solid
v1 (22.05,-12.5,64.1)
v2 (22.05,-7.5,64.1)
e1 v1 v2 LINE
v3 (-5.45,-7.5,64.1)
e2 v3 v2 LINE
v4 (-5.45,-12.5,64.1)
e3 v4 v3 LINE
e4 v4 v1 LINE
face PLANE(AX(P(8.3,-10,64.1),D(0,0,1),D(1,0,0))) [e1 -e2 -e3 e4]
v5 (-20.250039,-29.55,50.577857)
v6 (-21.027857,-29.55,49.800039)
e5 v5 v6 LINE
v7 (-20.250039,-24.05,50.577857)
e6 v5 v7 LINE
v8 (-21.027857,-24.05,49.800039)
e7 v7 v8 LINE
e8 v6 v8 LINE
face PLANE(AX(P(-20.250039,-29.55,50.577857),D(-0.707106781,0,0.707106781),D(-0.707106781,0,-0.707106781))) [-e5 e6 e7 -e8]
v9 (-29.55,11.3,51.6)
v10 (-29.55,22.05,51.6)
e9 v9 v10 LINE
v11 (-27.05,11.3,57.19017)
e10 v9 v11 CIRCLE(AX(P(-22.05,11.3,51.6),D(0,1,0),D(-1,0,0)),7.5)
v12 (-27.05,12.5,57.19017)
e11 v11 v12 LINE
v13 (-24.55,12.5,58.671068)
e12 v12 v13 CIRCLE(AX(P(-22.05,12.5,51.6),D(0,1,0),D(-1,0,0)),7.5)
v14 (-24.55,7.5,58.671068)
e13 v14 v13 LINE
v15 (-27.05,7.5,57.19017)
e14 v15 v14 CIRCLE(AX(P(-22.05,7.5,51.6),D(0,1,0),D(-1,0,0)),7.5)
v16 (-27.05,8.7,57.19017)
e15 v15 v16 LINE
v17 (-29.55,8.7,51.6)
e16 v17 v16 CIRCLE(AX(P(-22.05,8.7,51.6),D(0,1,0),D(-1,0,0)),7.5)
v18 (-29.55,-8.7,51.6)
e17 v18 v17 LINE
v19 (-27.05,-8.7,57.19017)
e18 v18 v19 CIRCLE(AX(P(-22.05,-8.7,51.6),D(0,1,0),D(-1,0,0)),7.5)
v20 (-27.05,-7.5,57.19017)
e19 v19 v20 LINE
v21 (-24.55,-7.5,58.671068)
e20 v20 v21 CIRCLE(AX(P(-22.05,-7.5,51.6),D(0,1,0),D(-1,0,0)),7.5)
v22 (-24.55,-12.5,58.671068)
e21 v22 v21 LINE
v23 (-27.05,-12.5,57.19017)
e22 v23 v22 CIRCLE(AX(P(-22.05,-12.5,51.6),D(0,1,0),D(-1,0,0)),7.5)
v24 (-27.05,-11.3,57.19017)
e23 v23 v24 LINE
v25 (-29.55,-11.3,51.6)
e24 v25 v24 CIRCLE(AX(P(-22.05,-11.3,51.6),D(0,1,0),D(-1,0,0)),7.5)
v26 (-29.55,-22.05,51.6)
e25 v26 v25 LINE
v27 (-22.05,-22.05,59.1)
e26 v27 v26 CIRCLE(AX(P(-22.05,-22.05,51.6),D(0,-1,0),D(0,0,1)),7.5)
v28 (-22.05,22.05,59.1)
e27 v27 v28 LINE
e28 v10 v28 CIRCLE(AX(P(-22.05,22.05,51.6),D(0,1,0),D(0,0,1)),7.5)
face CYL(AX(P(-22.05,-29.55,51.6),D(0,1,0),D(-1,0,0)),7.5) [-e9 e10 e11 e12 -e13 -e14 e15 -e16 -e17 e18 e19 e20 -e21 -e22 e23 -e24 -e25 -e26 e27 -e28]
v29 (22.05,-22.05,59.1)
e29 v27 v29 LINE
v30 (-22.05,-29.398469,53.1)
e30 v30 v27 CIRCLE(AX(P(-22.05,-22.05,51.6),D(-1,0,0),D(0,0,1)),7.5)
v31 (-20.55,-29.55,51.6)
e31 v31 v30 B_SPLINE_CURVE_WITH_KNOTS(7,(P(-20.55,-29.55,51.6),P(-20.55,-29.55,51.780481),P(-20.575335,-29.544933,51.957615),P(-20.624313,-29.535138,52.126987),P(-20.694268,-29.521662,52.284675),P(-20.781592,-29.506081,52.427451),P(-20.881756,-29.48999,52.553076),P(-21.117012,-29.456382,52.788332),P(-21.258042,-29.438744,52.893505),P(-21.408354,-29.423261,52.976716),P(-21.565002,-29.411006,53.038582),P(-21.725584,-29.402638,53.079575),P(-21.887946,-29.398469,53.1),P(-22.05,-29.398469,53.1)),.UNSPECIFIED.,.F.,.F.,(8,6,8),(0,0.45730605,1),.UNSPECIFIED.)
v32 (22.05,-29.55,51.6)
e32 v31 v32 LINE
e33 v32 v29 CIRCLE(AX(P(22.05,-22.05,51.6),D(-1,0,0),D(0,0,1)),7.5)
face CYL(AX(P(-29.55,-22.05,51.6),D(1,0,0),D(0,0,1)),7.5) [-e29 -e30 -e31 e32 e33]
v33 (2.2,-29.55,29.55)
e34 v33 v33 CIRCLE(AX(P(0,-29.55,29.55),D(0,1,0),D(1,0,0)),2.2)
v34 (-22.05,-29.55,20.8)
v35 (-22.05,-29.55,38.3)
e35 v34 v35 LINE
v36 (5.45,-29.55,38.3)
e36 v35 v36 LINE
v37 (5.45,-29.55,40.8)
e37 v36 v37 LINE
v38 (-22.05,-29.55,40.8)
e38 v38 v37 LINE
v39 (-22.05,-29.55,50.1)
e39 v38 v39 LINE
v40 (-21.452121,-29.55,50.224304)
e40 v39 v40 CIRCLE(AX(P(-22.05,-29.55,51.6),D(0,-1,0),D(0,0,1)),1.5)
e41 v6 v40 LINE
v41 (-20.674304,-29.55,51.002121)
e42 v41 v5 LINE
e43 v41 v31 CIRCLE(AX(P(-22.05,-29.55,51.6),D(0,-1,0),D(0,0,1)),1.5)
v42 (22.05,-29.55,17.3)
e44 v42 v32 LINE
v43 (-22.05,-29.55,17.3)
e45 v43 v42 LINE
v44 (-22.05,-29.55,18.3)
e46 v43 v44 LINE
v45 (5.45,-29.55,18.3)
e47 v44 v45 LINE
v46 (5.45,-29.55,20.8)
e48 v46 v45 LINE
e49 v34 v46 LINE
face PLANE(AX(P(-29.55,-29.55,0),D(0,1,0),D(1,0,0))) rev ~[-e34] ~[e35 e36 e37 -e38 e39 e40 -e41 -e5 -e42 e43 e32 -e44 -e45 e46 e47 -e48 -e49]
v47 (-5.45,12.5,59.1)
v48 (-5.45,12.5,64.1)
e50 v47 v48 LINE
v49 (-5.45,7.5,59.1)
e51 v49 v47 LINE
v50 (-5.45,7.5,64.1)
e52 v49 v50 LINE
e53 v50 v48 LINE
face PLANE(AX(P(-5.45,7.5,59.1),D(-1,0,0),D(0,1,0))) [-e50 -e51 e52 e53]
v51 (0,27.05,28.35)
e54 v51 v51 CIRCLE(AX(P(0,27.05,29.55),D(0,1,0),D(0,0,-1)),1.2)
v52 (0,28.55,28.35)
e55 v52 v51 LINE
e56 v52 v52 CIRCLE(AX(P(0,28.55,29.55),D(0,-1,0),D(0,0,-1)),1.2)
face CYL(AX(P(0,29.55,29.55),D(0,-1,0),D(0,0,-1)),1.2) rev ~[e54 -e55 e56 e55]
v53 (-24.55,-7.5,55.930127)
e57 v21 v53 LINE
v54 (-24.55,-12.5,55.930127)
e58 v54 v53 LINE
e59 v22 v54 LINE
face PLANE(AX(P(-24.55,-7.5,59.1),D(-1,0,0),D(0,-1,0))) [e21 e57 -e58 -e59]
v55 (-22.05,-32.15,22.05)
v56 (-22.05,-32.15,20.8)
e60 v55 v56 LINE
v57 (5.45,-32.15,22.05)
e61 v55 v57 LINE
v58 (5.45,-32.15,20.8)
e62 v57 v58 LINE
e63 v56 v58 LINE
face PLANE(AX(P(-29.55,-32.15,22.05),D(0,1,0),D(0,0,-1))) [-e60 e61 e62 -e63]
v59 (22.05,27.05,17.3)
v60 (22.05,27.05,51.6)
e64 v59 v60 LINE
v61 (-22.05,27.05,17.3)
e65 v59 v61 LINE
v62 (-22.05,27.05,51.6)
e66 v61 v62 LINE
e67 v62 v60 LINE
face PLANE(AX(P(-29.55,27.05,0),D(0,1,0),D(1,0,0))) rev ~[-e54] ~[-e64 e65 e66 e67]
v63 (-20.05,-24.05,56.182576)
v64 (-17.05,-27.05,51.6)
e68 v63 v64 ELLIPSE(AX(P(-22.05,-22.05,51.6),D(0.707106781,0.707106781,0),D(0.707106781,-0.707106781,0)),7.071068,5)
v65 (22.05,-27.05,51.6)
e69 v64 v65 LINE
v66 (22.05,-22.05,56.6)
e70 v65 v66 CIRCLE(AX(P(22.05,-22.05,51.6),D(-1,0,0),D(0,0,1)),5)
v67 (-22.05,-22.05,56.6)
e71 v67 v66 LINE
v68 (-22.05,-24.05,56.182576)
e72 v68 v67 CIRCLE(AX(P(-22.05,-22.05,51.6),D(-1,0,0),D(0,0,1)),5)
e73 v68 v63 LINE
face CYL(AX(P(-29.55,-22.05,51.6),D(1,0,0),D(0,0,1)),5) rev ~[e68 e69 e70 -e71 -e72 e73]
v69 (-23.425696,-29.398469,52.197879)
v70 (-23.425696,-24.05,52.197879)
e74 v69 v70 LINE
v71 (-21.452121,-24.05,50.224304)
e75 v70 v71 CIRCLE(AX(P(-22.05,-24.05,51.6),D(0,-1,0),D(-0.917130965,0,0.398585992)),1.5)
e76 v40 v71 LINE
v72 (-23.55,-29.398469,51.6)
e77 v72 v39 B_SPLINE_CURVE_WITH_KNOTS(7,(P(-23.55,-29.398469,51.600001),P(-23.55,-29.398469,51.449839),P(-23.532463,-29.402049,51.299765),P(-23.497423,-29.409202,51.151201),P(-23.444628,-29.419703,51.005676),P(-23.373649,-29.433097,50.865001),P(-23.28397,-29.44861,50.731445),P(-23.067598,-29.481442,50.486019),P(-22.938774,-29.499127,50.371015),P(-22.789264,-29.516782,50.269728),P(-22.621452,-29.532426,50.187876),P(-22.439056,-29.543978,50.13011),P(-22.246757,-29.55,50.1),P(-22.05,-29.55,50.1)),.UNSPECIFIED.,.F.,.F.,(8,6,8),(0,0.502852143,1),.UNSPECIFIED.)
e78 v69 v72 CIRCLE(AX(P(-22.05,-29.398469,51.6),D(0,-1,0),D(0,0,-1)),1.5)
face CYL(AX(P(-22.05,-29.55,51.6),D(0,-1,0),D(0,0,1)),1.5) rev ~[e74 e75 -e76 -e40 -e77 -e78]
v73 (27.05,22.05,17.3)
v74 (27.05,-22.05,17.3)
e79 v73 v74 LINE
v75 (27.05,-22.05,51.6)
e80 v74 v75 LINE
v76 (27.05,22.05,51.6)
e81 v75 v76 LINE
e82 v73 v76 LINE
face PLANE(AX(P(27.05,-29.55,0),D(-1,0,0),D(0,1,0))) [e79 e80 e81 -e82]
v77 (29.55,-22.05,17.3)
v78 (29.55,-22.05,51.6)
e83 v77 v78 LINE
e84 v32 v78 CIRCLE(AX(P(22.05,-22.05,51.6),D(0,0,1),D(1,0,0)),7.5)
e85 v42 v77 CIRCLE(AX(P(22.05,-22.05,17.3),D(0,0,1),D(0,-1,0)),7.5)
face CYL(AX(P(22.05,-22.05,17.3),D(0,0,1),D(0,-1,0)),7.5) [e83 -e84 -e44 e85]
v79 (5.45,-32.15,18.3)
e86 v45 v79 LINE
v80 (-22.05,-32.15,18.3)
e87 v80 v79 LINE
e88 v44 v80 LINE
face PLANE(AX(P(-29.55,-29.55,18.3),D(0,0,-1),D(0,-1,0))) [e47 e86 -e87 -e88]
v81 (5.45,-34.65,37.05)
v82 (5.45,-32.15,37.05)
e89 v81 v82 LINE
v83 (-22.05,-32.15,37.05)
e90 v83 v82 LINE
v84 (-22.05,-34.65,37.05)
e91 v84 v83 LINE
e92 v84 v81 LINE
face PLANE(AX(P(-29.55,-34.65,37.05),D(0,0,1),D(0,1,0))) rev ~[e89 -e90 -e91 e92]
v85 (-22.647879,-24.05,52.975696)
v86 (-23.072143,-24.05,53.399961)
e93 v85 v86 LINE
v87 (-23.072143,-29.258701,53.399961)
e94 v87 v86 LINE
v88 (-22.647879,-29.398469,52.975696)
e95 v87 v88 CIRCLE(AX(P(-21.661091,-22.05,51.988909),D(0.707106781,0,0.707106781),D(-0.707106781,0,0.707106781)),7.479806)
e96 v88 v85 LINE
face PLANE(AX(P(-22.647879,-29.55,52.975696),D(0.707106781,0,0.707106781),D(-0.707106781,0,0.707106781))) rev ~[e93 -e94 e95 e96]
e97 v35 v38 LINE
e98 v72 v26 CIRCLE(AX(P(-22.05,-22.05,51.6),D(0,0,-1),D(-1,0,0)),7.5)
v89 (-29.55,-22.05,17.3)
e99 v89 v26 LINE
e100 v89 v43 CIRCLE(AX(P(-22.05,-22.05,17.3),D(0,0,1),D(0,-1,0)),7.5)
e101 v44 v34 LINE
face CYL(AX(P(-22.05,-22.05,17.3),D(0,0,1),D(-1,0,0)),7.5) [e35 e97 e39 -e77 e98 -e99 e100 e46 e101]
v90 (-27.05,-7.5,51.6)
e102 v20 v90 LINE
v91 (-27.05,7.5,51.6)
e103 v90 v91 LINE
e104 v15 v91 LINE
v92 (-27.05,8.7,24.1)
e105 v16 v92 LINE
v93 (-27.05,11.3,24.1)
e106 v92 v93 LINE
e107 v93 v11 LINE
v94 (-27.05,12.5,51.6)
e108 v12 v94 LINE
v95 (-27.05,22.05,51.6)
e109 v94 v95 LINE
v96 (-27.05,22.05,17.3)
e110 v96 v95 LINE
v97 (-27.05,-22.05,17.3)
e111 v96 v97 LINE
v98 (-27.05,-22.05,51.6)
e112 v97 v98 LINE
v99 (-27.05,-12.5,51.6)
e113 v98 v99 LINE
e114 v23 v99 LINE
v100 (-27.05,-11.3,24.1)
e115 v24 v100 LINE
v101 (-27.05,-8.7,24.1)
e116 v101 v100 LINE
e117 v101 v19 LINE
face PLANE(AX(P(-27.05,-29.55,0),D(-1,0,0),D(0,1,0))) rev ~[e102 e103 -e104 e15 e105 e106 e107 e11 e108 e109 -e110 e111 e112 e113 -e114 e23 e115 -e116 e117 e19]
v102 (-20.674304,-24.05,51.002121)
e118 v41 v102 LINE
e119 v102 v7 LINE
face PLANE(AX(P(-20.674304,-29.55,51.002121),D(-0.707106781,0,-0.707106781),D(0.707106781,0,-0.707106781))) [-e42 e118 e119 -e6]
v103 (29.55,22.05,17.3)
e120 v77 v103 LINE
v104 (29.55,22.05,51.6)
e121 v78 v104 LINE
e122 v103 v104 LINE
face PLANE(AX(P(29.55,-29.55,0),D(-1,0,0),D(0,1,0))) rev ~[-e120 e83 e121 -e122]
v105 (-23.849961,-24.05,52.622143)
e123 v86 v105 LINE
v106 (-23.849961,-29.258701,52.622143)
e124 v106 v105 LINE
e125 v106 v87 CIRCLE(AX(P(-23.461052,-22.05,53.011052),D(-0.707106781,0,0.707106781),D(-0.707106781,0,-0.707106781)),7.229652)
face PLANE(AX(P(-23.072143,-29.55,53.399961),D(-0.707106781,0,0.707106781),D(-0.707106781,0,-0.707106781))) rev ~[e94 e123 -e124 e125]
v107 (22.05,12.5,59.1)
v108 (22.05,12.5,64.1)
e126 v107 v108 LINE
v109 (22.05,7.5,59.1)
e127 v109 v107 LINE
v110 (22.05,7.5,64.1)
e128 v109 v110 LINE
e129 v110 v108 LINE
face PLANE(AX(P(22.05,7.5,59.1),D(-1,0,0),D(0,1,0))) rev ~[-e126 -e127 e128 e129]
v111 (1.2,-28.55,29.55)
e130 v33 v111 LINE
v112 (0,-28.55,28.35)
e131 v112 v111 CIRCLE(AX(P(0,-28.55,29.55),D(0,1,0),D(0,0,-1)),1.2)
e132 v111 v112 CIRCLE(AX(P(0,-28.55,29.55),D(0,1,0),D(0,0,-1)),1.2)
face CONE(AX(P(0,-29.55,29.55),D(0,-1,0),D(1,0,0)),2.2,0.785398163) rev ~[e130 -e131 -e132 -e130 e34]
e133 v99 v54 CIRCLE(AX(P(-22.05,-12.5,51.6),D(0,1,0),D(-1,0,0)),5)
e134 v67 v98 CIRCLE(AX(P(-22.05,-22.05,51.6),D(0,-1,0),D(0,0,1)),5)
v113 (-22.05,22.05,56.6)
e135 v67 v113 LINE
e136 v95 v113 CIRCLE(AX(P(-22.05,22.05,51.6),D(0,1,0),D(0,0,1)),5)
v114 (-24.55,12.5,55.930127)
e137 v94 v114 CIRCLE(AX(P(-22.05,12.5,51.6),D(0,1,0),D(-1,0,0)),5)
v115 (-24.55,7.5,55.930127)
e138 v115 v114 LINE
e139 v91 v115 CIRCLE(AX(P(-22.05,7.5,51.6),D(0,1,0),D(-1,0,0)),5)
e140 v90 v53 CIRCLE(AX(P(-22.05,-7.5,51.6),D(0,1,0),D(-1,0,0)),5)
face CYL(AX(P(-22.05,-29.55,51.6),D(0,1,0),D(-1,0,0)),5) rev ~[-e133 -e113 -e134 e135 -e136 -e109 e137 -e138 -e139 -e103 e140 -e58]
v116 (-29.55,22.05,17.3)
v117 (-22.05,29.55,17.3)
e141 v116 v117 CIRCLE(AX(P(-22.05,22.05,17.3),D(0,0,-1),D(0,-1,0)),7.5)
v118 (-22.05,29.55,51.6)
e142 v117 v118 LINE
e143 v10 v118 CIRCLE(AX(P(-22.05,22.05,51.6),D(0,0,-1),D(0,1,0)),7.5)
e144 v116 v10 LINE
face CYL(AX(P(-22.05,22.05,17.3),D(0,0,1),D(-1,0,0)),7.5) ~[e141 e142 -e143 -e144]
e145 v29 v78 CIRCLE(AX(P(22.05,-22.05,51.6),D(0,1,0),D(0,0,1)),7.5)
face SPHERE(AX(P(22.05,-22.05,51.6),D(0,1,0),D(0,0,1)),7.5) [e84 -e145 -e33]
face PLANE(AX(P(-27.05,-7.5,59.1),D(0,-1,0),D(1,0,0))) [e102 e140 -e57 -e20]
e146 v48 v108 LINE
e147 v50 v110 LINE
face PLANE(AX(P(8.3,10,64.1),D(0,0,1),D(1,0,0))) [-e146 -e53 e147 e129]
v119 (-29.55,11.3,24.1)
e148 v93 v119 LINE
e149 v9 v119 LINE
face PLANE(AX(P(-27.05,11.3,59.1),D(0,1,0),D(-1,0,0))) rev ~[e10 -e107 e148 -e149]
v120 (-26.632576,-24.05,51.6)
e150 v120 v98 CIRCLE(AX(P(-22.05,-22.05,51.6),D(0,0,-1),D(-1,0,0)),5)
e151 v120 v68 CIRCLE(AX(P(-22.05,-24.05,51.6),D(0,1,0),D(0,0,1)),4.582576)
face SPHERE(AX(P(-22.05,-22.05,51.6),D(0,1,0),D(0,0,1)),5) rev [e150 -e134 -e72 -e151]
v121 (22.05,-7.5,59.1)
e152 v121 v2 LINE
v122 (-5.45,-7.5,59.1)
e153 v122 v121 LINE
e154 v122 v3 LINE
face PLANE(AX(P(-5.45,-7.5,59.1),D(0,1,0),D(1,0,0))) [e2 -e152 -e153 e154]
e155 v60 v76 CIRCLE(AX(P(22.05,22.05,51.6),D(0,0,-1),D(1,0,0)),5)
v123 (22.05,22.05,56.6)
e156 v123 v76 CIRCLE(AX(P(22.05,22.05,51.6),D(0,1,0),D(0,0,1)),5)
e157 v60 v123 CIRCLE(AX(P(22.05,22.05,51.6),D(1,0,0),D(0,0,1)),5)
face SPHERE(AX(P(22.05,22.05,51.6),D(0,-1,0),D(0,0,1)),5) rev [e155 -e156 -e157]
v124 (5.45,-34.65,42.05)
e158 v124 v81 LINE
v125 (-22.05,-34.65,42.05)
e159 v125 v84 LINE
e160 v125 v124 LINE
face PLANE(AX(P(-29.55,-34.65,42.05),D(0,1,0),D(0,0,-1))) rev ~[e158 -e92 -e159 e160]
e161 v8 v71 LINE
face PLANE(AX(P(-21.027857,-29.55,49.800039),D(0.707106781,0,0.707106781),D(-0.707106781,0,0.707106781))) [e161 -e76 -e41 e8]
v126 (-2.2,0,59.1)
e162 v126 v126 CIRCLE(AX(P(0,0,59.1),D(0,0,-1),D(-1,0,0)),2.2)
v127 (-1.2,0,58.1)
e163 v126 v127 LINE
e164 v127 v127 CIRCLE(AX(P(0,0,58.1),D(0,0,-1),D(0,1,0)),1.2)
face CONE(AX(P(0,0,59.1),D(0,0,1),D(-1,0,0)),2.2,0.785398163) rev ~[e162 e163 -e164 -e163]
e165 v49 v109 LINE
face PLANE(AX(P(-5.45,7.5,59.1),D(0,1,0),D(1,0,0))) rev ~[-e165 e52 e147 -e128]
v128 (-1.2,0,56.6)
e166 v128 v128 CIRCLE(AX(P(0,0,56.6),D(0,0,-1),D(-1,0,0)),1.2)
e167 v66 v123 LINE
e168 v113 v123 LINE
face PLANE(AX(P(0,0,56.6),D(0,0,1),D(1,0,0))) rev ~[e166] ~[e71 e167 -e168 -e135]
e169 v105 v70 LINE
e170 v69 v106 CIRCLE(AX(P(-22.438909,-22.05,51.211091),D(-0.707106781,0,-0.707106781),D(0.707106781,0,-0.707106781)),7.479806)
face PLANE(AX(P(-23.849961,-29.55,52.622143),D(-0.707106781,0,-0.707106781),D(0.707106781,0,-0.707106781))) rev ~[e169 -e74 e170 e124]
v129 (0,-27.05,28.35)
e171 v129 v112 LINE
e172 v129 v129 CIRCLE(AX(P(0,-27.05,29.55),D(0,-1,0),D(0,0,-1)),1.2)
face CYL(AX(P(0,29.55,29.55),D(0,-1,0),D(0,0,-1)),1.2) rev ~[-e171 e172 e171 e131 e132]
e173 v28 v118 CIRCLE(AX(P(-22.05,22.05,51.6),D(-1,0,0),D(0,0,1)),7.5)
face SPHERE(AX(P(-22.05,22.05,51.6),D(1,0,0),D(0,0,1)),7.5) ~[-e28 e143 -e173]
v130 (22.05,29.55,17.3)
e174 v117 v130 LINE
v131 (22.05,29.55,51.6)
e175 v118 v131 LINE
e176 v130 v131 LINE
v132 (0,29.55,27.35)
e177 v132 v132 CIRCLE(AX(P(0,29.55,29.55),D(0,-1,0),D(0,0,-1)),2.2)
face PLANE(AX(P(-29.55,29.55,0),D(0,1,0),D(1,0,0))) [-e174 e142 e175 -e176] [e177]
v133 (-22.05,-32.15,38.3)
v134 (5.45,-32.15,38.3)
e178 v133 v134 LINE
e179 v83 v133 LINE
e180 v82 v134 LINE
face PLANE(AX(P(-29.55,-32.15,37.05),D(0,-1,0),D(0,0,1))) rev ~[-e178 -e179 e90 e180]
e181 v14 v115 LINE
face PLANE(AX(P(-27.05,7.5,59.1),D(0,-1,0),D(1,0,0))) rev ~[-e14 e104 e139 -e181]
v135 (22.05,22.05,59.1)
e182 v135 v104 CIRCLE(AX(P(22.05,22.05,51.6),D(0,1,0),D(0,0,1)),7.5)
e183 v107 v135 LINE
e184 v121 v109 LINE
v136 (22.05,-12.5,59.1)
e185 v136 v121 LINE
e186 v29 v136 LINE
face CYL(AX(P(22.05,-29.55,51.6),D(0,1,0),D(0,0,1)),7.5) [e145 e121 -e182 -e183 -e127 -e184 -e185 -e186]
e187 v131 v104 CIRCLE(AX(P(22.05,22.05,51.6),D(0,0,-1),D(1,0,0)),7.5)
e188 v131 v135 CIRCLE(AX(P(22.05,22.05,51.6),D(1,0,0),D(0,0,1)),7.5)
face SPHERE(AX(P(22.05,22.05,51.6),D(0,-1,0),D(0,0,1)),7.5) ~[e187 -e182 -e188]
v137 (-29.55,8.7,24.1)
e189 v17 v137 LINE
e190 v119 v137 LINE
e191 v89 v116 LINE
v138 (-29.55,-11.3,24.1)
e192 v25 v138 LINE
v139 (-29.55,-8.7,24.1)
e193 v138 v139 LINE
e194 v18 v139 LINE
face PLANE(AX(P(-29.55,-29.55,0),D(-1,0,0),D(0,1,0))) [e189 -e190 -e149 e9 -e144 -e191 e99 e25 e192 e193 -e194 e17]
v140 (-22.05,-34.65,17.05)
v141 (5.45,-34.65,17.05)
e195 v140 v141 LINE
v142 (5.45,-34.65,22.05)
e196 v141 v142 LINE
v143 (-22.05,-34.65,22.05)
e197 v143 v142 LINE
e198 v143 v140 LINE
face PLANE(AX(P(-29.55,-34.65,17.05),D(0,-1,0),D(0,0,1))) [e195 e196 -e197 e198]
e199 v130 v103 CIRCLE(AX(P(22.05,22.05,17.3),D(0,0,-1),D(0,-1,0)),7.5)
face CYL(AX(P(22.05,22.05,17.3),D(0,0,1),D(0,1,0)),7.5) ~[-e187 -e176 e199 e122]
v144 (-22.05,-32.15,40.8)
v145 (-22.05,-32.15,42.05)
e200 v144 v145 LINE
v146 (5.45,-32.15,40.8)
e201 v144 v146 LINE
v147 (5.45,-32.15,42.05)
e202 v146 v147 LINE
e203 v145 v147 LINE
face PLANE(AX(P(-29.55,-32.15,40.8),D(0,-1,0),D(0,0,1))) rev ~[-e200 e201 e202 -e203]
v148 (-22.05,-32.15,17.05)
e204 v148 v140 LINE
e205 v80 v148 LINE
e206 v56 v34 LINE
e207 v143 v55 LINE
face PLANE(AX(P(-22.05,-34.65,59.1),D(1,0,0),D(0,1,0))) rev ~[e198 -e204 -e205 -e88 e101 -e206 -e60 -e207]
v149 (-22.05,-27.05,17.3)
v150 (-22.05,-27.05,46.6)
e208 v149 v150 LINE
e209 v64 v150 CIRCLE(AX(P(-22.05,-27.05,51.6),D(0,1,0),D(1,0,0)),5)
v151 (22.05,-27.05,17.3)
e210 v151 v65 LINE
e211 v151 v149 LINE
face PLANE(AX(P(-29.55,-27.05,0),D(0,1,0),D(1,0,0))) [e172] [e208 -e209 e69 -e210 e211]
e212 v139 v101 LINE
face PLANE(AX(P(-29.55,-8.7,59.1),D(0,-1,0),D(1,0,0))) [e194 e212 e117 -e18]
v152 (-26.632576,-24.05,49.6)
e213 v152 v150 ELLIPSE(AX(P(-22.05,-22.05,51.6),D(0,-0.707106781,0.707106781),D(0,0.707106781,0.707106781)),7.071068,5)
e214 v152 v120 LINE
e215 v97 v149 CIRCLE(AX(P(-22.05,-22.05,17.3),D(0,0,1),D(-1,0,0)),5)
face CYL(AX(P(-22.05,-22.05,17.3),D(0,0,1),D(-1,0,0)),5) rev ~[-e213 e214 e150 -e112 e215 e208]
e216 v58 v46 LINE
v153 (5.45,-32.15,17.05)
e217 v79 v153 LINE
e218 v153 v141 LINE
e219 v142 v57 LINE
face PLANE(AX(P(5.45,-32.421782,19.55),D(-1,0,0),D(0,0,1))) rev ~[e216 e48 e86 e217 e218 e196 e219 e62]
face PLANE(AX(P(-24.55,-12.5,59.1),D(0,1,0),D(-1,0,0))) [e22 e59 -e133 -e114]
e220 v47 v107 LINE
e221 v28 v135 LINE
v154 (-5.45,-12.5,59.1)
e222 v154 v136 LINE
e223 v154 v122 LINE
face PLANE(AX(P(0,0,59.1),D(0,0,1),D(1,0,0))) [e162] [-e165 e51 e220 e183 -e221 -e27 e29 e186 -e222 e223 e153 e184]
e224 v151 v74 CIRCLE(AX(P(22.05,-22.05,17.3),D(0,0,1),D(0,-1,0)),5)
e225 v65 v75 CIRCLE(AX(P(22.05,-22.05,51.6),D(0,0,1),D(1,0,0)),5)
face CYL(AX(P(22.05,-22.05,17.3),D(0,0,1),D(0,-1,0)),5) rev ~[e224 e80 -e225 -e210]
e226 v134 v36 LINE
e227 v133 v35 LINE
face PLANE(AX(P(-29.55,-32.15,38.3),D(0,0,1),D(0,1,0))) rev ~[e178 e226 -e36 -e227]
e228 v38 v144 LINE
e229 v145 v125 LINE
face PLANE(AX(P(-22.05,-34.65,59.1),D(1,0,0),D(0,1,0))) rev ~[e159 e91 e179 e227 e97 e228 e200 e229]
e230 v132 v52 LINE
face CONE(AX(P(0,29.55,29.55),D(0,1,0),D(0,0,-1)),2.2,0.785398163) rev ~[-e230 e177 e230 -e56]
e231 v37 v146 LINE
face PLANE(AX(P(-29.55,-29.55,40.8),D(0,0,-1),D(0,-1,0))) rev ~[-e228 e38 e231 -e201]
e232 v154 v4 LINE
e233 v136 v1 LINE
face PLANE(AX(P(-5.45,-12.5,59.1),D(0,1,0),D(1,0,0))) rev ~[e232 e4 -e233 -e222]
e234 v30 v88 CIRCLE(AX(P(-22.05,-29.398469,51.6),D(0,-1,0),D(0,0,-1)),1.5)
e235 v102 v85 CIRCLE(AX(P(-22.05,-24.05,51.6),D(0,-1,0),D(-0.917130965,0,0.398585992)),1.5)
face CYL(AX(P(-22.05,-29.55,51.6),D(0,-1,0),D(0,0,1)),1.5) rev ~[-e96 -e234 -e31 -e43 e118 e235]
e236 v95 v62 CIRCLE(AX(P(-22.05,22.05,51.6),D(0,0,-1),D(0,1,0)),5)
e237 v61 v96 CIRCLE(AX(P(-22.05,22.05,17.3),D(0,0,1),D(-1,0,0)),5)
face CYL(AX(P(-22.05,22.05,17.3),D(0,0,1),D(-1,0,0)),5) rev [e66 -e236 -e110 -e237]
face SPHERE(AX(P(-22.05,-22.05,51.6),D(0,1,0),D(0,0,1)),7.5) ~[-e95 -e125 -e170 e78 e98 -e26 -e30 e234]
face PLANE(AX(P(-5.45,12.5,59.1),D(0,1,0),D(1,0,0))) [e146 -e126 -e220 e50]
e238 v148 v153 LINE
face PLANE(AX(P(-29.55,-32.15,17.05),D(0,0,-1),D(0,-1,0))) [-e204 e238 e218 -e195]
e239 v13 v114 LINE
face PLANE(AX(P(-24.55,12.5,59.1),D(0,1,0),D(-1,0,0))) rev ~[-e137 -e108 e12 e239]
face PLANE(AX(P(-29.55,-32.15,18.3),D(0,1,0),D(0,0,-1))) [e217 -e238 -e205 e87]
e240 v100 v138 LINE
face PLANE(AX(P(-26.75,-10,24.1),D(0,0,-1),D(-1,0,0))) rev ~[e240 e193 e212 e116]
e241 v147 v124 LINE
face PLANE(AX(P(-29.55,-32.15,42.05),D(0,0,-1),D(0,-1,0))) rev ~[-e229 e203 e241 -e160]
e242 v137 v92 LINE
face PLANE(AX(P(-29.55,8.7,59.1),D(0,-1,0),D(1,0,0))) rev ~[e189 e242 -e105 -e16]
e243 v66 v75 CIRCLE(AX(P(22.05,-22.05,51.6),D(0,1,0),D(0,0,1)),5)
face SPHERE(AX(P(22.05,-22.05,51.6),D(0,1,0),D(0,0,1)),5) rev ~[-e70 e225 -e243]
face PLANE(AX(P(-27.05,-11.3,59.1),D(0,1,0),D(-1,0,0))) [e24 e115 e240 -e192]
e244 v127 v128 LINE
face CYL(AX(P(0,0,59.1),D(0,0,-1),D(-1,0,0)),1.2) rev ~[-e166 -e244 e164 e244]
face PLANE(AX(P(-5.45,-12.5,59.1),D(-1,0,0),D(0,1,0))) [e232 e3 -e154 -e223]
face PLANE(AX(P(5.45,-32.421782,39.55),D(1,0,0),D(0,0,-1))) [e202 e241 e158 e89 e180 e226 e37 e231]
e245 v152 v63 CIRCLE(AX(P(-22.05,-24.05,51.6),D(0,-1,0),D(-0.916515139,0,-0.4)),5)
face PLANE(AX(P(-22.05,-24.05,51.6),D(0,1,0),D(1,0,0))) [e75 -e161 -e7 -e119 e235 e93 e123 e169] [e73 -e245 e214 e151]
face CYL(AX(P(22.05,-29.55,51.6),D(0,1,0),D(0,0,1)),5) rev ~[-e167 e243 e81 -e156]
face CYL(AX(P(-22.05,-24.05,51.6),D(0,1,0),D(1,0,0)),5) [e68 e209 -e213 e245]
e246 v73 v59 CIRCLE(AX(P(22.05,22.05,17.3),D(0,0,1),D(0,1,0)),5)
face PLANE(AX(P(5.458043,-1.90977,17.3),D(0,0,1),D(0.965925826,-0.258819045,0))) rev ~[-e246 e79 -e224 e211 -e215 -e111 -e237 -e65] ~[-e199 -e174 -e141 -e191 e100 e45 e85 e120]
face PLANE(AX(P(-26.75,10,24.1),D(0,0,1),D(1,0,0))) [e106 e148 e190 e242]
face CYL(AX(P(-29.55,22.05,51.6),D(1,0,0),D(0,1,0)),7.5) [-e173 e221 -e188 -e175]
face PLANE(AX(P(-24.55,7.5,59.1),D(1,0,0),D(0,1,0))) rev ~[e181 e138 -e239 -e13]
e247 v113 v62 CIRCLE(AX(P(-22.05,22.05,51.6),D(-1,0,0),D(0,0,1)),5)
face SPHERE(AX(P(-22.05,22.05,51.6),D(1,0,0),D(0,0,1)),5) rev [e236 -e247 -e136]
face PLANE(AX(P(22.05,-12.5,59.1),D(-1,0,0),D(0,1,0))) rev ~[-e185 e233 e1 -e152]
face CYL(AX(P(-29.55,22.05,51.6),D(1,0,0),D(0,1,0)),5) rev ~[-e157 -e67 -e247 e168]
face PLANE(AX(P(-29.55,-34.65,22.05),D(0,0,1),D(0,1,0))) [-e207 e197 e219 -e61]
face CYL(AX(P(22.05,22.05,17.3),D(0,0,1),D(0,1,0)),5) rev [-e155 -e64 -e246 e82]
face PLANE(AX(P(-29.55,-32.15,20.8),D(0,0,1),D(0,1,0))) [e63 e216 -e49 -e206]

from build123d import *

# Parameters (mm, degrees)
SKETCH1_W                                            = 59.1
SKETCH1_H                                            = 59.1
BOSS_EXTRUDE1_DEPTH                                  = 59.1
CUT_EXTRUDE1_START                                   = -2.25
SKETCH2_W                                            = 116.357411776
SKETCH2_H                                            = 94.431830133
CUT_EXTRUDE1_DEPTH                                   = 71.232302632
FILLET1_R                                            = 7.5
SHELL1_T                                             = -2.5
CUT_EXTRUDE7_DEPTH                                   = 35
BOSS_EXTRUDE2_START                                  = 3
SKETCH18_R                                           = 5
BOSS_EXTRUDE2_DEPTH                                  = 3
SKETCH17_R                                           = 1.5
CUT_EXTRUDE10_DEPTH                                  = 10
CUT_EXTRUDE11_REACH                                  = 90.65
CSK_SLOT_FOR_M2_COUNTERSUNK_FLAT_HEAD_SC_D           = 2.4
CSK_SLOT_FOR_M2_COUNTERSUNK_FLAT_HEAD_SC_CSINK_D     = 4.4
CSK_SLOT_FOR_M2_COUNTERSUNK_FLAT_HEAD_SC_CSINK_ANGLE = 90
CSK_SLOT_FOR_M2_COUNTERSUNK_FLAT_HEA_2_D             = 2.4
CSK_SLOT_FOR_M2_COUNTERSUNK_FLAT_HEA_2_CSINK_D       = 4.4
CSK_SLOT_FOR_M2_COUNTERSUNK_FLAT_HEA_2_CSINK_ANGLE   = 90
CSK_SLOT_FOR_M2_COUNTERSUNK_FLAT_HEA_3_D             = 2.4
CSK_SLOT_FOR_M2_COUNTERSUNK_FLAT_HEA_3_CSINK_D       = 4.4
CSK_SLOT_FOR_M2_COUNTERSUNK_FLAT_HEA_3_CSINK_ANGLE   = 90
BOSS_EXTRUDE3_DEPTH                                  = 35
SKETCH28_W                                           = 7.5
SKETCH28_H                                           = 5.1
CUT_EXTRUDE12_DEPTH                                  = 62.984090748
SKETCH29_W                                           = 27.5
SKETCH29_H                                           = 5
BOSS_EXTRUDE4_DEPTH                                  = 5


with BuildPart() as part:
    # Sketch1 → Boss-Extrude1 (new body)
    with BuildSketch(Plane.XY):
        Rectangle(SKETCH1_W, SKETCH1_H)
    extrude(amount=BOSS_EXTRUDE1_DEPTH)

    # Sketch2 → Cut-Extrude1 (cut, through all)
    with BuildSketch(Plane(origin=(-13.400446417, -13.400446417, 19.55), x_dir=(0.9659258262890684, -0.2588190451025203, 0), z_dir=(0, 0, 1)).offset(CUT_EXTRUDE1_START)):
        with Locations((15.241895832, 15.980077556)):
            Rectangle(SKETCH2_W, SKETCH2_H)
    extrude(amount=-CUT_EXTRUDE1_DEPTH, mode=Mode.SUBTRACT)

    # Fillet1
    fillet1_edges = [part.edges().sort_by_distance(p)[0] for p in [
        (29.55, 0, 59.1),
        (0, 29.55, 59.1),
        (-29.55, 0, 59.1),
        (0, -29.55, 59.1),
        (-29.55, 29.55, 38.2),
        (29.55, 29.55, 38.2),
        (29.55, -29.55, 38.2),
        (-29.55, -29.55, 38.2),
    ]]
    fillet(fillet1_edges, radius=FILLET1_R)

    # Shell1
    shell1_openings = [part.faces().sort_by_distance(p)[0] for p in [
        (0, 0, 17.3),
    ]]
    offset(amount=SHELL1_T, openings=shell1_openings, kind=Kind.INTERSECTION)

    # Sketch14 → Cut-Extrude7 (cut)
    with BuildSketch(Plane.XY.offset(59.1)):
        Polygon((-29.55, -8.7), (-27.05, -8.7), (-27.05, -7.5), (-24.55, -7.5), (-24.55, -12.5), (-27.05, -12.5), (-27.05, -11.3), (-29.55, -11.3), align=None)
        Polygon((-29.55, 11.3), (-29.55, 8.7), (-27.05, 8.7), (-27.05, 7.5), (-24.55, 7.5), (-24.55, 12.5), (-27.05, 12.5), (-27.05, 11.3), align=None)
    extrude(amount=-CUT_EXTRUDE7_DEPTH, mode=Mode.SUBTRACT)

    # Sketch18 → Boss-Extrude2 (add)
    with BuildSketch(Plane(origin=(0, -27.05, 0), x_dir=(1, 0, 0), z_dir=(0, 1, 0)).offset(BOSS_EXTRUDE2_START)):
        with Locations((-22.05, -51.6)):
            Circle(SKETCH18_R)
    extrude(amount=-BOSS_EXTRUDE2_DEPTH)

    # Sketch17 → Cut-Extrude10 (cut)
    with BuildSketch(Plane.XZ.offset(29.55)):
        with Locations(Location((-22.05, 51.6, 0), (0, 0, 90))):
            Circle(SKETCH17_R)
    extrude(amount=-CUT_EXTRUDE10_DEPTH, mode=Mode.SUBTRACT)

    # Sketch20 → Cut-Extrude11 (cut, up to next)
    with BuildSketch(Plane.XZ.offset(29.55), mode=Mode.PRIVATE) as cut_extrude11_sk1:
        with BuildLine():
            Line((-22.647878988, 52.975696447), (-23.072143057, 53.399960516))
            Line((-23.072143057, 53.399960516), (-23.849960516, 52.622143057))
            Line((-23.849960516, 52.622143057), (-23.425696447, 52.197878988))
            ThreePointArc((-23.425696447, 52.197878988), (-23.110660172, 52.660660172), (-22.647878988, 52.975696447))
        make_face()
    cut_extrude11_tool1 = extrude(cut_extrude11_sk1.sketch, amount=-CUT_EXTRUDE11_REACH, mode=Mode.PRIVATE) & part.part
    # Sketch20 → Cut-Extrude11 (cut, up to next)
    with BuildSketch(Plane.XZ.offset(29.55), mode=Mode.PRIVATE) as cut_extrude11_sk2:
        with BuildLine():
            Line((-21.027856943, 49.800039484), (-21.452121012, 50.224303553))
            ThreePointArc((-21.452121012, 50.224303553), (-20.989339828, 50.539339828), (-20.674303553, 51.002121012))
            Line((-20.674303553, 51.002121012), (-20.250039484, 50.577856943))
            Line((-20.250039484, 50.577856943), (-21.027856943, 49.800039484))
        make_face()
    cut_extrude11_tool2 = extrude(cut_extrude11_sk2.sketch, amount=-CUT_EXTRUDE11_REACH, mode=Mode.PRIVATE) & part.part
    add(cut_extrude11_tool1.solids().sort_by_distance((-23.27308, -29.55, 52.82308))[0], mode=Mode.SUBTRACT)
    add(cut_extrude11_tool2.solids().sort_by_distance((-20.82692, -29.55, 50.37692))[0], mode=Mode.SUBTRACT)

    # CSK SLOT for M2 Countersunk Flat Head Sc (through all)
    with Locations(Plane.ZX.offset(29.55)):
        with Locations((29.55, 0)):
            CounterSinkHole(CSK_SLOT_FOR_M2_COUNTERSUNK_FLAT_HEAD_SC_D / 2, CSK_SLOT_FOR_M2_COUNTERSUNK_FLAT_HEAD_SC_CSINK_D / 2, counter_sink_angle=CSK_SLOT_FOR_M2_COUNTERSUNK_FLAT_HEAD_SC_CSINK_ANGLE)

    # CSK SLOT for M2 Countersunk Flat Hea 2 (through all)
    with Locations(Plane.XY.offset(59.1)):
        with Locations((0, 0)):
            CounterSinkHole(CSK_SLOT_FOR_M2_COUNTERSUNK_FLAT_HEA_2_D / 2, CSK_SLOT_FOR_M2_COUNTERSUNK_FLAT_HEA_2_CSINK_D / 2, counter_sink_angle=CSK_SLOT_FOR_M2_COUNTERSUNK_FLAT_HEA_2_CSINK_ANGLE)

    # CSK SLOT for M2 Countersunk Flat Hea 3 (through all)
    with Locations(Plane(origin=(0, -29.55, 0), x_dir=(-1, 0, 0), z_dir=(0, -1, 0))):
        with Locations((0, -29.55)):
            CounterSinkHole(CSK_SLOT_FOR_M2_COUNTERSUNK_FLAT_HEA_3_D / 2, CSK_SLOT_FOR_M2_COUNTERSUNK_FLAT_HEA_3_CSINK_D / 2, counter_sink_angle=CSK_SLOT_FOR_M2_COUNTERSUNK_FLAT_HEA_3_CSINK_ANGLE)

    # Sketch27 → Boss-Extrude3 (add)
    with BuildSketch(Plane(origin=(-29.55, 29.55, 0), x_dir=(0, 0, -1), z_dir=(1, 0, 0))):
        Polygon((-18.3, -59.1), (-18.3, -61.7), (-17.05, -61.7), (-17.05, -64.2), (-22.05, -64.2), (-22.05, -61.7), (-20.8, -61.7), (-20.8, -59.1), align=None)
        Polygon((-38.3, -59.1), (-40.8, -59.1), (-40.8, -61.7), (-42.05, -61.7), (-42.05, -64.2), (-37.05, -64.2), (-37.05, -61.7), (-38.3, -61.7), align=None)
    extrude(amount=BOSS_EXTRUDE3_DEPTH)

    # Sketch28 → Cut-Extrude12 (cut, through all)
    with BuildSketch(Plane.XY.offset(59.1)):
        with Locations((-25.8, -32.1)):
            Rectangle(SKETCH28_W, SKETCH28_H)
    extrude(amount=-CUT_EXTRUDE12_DEPTH, mode=Mode.SUBTRACT)

    # Sketch29 → Boss-Extrude4 (add)
    with BuildSketch(Plane.XY.offset(59.1)):
        with Locations((8.3, -10)):
            Rectangle(SKETCH29_W, SKETCH29_H)
        with Locations((8.3, 10)):
            Rectangle(SKETCH29_W, SKETCH29_H)
    extrude(amount=BOSS_EXTRUDE4_DEPTH)


solid = part.part
